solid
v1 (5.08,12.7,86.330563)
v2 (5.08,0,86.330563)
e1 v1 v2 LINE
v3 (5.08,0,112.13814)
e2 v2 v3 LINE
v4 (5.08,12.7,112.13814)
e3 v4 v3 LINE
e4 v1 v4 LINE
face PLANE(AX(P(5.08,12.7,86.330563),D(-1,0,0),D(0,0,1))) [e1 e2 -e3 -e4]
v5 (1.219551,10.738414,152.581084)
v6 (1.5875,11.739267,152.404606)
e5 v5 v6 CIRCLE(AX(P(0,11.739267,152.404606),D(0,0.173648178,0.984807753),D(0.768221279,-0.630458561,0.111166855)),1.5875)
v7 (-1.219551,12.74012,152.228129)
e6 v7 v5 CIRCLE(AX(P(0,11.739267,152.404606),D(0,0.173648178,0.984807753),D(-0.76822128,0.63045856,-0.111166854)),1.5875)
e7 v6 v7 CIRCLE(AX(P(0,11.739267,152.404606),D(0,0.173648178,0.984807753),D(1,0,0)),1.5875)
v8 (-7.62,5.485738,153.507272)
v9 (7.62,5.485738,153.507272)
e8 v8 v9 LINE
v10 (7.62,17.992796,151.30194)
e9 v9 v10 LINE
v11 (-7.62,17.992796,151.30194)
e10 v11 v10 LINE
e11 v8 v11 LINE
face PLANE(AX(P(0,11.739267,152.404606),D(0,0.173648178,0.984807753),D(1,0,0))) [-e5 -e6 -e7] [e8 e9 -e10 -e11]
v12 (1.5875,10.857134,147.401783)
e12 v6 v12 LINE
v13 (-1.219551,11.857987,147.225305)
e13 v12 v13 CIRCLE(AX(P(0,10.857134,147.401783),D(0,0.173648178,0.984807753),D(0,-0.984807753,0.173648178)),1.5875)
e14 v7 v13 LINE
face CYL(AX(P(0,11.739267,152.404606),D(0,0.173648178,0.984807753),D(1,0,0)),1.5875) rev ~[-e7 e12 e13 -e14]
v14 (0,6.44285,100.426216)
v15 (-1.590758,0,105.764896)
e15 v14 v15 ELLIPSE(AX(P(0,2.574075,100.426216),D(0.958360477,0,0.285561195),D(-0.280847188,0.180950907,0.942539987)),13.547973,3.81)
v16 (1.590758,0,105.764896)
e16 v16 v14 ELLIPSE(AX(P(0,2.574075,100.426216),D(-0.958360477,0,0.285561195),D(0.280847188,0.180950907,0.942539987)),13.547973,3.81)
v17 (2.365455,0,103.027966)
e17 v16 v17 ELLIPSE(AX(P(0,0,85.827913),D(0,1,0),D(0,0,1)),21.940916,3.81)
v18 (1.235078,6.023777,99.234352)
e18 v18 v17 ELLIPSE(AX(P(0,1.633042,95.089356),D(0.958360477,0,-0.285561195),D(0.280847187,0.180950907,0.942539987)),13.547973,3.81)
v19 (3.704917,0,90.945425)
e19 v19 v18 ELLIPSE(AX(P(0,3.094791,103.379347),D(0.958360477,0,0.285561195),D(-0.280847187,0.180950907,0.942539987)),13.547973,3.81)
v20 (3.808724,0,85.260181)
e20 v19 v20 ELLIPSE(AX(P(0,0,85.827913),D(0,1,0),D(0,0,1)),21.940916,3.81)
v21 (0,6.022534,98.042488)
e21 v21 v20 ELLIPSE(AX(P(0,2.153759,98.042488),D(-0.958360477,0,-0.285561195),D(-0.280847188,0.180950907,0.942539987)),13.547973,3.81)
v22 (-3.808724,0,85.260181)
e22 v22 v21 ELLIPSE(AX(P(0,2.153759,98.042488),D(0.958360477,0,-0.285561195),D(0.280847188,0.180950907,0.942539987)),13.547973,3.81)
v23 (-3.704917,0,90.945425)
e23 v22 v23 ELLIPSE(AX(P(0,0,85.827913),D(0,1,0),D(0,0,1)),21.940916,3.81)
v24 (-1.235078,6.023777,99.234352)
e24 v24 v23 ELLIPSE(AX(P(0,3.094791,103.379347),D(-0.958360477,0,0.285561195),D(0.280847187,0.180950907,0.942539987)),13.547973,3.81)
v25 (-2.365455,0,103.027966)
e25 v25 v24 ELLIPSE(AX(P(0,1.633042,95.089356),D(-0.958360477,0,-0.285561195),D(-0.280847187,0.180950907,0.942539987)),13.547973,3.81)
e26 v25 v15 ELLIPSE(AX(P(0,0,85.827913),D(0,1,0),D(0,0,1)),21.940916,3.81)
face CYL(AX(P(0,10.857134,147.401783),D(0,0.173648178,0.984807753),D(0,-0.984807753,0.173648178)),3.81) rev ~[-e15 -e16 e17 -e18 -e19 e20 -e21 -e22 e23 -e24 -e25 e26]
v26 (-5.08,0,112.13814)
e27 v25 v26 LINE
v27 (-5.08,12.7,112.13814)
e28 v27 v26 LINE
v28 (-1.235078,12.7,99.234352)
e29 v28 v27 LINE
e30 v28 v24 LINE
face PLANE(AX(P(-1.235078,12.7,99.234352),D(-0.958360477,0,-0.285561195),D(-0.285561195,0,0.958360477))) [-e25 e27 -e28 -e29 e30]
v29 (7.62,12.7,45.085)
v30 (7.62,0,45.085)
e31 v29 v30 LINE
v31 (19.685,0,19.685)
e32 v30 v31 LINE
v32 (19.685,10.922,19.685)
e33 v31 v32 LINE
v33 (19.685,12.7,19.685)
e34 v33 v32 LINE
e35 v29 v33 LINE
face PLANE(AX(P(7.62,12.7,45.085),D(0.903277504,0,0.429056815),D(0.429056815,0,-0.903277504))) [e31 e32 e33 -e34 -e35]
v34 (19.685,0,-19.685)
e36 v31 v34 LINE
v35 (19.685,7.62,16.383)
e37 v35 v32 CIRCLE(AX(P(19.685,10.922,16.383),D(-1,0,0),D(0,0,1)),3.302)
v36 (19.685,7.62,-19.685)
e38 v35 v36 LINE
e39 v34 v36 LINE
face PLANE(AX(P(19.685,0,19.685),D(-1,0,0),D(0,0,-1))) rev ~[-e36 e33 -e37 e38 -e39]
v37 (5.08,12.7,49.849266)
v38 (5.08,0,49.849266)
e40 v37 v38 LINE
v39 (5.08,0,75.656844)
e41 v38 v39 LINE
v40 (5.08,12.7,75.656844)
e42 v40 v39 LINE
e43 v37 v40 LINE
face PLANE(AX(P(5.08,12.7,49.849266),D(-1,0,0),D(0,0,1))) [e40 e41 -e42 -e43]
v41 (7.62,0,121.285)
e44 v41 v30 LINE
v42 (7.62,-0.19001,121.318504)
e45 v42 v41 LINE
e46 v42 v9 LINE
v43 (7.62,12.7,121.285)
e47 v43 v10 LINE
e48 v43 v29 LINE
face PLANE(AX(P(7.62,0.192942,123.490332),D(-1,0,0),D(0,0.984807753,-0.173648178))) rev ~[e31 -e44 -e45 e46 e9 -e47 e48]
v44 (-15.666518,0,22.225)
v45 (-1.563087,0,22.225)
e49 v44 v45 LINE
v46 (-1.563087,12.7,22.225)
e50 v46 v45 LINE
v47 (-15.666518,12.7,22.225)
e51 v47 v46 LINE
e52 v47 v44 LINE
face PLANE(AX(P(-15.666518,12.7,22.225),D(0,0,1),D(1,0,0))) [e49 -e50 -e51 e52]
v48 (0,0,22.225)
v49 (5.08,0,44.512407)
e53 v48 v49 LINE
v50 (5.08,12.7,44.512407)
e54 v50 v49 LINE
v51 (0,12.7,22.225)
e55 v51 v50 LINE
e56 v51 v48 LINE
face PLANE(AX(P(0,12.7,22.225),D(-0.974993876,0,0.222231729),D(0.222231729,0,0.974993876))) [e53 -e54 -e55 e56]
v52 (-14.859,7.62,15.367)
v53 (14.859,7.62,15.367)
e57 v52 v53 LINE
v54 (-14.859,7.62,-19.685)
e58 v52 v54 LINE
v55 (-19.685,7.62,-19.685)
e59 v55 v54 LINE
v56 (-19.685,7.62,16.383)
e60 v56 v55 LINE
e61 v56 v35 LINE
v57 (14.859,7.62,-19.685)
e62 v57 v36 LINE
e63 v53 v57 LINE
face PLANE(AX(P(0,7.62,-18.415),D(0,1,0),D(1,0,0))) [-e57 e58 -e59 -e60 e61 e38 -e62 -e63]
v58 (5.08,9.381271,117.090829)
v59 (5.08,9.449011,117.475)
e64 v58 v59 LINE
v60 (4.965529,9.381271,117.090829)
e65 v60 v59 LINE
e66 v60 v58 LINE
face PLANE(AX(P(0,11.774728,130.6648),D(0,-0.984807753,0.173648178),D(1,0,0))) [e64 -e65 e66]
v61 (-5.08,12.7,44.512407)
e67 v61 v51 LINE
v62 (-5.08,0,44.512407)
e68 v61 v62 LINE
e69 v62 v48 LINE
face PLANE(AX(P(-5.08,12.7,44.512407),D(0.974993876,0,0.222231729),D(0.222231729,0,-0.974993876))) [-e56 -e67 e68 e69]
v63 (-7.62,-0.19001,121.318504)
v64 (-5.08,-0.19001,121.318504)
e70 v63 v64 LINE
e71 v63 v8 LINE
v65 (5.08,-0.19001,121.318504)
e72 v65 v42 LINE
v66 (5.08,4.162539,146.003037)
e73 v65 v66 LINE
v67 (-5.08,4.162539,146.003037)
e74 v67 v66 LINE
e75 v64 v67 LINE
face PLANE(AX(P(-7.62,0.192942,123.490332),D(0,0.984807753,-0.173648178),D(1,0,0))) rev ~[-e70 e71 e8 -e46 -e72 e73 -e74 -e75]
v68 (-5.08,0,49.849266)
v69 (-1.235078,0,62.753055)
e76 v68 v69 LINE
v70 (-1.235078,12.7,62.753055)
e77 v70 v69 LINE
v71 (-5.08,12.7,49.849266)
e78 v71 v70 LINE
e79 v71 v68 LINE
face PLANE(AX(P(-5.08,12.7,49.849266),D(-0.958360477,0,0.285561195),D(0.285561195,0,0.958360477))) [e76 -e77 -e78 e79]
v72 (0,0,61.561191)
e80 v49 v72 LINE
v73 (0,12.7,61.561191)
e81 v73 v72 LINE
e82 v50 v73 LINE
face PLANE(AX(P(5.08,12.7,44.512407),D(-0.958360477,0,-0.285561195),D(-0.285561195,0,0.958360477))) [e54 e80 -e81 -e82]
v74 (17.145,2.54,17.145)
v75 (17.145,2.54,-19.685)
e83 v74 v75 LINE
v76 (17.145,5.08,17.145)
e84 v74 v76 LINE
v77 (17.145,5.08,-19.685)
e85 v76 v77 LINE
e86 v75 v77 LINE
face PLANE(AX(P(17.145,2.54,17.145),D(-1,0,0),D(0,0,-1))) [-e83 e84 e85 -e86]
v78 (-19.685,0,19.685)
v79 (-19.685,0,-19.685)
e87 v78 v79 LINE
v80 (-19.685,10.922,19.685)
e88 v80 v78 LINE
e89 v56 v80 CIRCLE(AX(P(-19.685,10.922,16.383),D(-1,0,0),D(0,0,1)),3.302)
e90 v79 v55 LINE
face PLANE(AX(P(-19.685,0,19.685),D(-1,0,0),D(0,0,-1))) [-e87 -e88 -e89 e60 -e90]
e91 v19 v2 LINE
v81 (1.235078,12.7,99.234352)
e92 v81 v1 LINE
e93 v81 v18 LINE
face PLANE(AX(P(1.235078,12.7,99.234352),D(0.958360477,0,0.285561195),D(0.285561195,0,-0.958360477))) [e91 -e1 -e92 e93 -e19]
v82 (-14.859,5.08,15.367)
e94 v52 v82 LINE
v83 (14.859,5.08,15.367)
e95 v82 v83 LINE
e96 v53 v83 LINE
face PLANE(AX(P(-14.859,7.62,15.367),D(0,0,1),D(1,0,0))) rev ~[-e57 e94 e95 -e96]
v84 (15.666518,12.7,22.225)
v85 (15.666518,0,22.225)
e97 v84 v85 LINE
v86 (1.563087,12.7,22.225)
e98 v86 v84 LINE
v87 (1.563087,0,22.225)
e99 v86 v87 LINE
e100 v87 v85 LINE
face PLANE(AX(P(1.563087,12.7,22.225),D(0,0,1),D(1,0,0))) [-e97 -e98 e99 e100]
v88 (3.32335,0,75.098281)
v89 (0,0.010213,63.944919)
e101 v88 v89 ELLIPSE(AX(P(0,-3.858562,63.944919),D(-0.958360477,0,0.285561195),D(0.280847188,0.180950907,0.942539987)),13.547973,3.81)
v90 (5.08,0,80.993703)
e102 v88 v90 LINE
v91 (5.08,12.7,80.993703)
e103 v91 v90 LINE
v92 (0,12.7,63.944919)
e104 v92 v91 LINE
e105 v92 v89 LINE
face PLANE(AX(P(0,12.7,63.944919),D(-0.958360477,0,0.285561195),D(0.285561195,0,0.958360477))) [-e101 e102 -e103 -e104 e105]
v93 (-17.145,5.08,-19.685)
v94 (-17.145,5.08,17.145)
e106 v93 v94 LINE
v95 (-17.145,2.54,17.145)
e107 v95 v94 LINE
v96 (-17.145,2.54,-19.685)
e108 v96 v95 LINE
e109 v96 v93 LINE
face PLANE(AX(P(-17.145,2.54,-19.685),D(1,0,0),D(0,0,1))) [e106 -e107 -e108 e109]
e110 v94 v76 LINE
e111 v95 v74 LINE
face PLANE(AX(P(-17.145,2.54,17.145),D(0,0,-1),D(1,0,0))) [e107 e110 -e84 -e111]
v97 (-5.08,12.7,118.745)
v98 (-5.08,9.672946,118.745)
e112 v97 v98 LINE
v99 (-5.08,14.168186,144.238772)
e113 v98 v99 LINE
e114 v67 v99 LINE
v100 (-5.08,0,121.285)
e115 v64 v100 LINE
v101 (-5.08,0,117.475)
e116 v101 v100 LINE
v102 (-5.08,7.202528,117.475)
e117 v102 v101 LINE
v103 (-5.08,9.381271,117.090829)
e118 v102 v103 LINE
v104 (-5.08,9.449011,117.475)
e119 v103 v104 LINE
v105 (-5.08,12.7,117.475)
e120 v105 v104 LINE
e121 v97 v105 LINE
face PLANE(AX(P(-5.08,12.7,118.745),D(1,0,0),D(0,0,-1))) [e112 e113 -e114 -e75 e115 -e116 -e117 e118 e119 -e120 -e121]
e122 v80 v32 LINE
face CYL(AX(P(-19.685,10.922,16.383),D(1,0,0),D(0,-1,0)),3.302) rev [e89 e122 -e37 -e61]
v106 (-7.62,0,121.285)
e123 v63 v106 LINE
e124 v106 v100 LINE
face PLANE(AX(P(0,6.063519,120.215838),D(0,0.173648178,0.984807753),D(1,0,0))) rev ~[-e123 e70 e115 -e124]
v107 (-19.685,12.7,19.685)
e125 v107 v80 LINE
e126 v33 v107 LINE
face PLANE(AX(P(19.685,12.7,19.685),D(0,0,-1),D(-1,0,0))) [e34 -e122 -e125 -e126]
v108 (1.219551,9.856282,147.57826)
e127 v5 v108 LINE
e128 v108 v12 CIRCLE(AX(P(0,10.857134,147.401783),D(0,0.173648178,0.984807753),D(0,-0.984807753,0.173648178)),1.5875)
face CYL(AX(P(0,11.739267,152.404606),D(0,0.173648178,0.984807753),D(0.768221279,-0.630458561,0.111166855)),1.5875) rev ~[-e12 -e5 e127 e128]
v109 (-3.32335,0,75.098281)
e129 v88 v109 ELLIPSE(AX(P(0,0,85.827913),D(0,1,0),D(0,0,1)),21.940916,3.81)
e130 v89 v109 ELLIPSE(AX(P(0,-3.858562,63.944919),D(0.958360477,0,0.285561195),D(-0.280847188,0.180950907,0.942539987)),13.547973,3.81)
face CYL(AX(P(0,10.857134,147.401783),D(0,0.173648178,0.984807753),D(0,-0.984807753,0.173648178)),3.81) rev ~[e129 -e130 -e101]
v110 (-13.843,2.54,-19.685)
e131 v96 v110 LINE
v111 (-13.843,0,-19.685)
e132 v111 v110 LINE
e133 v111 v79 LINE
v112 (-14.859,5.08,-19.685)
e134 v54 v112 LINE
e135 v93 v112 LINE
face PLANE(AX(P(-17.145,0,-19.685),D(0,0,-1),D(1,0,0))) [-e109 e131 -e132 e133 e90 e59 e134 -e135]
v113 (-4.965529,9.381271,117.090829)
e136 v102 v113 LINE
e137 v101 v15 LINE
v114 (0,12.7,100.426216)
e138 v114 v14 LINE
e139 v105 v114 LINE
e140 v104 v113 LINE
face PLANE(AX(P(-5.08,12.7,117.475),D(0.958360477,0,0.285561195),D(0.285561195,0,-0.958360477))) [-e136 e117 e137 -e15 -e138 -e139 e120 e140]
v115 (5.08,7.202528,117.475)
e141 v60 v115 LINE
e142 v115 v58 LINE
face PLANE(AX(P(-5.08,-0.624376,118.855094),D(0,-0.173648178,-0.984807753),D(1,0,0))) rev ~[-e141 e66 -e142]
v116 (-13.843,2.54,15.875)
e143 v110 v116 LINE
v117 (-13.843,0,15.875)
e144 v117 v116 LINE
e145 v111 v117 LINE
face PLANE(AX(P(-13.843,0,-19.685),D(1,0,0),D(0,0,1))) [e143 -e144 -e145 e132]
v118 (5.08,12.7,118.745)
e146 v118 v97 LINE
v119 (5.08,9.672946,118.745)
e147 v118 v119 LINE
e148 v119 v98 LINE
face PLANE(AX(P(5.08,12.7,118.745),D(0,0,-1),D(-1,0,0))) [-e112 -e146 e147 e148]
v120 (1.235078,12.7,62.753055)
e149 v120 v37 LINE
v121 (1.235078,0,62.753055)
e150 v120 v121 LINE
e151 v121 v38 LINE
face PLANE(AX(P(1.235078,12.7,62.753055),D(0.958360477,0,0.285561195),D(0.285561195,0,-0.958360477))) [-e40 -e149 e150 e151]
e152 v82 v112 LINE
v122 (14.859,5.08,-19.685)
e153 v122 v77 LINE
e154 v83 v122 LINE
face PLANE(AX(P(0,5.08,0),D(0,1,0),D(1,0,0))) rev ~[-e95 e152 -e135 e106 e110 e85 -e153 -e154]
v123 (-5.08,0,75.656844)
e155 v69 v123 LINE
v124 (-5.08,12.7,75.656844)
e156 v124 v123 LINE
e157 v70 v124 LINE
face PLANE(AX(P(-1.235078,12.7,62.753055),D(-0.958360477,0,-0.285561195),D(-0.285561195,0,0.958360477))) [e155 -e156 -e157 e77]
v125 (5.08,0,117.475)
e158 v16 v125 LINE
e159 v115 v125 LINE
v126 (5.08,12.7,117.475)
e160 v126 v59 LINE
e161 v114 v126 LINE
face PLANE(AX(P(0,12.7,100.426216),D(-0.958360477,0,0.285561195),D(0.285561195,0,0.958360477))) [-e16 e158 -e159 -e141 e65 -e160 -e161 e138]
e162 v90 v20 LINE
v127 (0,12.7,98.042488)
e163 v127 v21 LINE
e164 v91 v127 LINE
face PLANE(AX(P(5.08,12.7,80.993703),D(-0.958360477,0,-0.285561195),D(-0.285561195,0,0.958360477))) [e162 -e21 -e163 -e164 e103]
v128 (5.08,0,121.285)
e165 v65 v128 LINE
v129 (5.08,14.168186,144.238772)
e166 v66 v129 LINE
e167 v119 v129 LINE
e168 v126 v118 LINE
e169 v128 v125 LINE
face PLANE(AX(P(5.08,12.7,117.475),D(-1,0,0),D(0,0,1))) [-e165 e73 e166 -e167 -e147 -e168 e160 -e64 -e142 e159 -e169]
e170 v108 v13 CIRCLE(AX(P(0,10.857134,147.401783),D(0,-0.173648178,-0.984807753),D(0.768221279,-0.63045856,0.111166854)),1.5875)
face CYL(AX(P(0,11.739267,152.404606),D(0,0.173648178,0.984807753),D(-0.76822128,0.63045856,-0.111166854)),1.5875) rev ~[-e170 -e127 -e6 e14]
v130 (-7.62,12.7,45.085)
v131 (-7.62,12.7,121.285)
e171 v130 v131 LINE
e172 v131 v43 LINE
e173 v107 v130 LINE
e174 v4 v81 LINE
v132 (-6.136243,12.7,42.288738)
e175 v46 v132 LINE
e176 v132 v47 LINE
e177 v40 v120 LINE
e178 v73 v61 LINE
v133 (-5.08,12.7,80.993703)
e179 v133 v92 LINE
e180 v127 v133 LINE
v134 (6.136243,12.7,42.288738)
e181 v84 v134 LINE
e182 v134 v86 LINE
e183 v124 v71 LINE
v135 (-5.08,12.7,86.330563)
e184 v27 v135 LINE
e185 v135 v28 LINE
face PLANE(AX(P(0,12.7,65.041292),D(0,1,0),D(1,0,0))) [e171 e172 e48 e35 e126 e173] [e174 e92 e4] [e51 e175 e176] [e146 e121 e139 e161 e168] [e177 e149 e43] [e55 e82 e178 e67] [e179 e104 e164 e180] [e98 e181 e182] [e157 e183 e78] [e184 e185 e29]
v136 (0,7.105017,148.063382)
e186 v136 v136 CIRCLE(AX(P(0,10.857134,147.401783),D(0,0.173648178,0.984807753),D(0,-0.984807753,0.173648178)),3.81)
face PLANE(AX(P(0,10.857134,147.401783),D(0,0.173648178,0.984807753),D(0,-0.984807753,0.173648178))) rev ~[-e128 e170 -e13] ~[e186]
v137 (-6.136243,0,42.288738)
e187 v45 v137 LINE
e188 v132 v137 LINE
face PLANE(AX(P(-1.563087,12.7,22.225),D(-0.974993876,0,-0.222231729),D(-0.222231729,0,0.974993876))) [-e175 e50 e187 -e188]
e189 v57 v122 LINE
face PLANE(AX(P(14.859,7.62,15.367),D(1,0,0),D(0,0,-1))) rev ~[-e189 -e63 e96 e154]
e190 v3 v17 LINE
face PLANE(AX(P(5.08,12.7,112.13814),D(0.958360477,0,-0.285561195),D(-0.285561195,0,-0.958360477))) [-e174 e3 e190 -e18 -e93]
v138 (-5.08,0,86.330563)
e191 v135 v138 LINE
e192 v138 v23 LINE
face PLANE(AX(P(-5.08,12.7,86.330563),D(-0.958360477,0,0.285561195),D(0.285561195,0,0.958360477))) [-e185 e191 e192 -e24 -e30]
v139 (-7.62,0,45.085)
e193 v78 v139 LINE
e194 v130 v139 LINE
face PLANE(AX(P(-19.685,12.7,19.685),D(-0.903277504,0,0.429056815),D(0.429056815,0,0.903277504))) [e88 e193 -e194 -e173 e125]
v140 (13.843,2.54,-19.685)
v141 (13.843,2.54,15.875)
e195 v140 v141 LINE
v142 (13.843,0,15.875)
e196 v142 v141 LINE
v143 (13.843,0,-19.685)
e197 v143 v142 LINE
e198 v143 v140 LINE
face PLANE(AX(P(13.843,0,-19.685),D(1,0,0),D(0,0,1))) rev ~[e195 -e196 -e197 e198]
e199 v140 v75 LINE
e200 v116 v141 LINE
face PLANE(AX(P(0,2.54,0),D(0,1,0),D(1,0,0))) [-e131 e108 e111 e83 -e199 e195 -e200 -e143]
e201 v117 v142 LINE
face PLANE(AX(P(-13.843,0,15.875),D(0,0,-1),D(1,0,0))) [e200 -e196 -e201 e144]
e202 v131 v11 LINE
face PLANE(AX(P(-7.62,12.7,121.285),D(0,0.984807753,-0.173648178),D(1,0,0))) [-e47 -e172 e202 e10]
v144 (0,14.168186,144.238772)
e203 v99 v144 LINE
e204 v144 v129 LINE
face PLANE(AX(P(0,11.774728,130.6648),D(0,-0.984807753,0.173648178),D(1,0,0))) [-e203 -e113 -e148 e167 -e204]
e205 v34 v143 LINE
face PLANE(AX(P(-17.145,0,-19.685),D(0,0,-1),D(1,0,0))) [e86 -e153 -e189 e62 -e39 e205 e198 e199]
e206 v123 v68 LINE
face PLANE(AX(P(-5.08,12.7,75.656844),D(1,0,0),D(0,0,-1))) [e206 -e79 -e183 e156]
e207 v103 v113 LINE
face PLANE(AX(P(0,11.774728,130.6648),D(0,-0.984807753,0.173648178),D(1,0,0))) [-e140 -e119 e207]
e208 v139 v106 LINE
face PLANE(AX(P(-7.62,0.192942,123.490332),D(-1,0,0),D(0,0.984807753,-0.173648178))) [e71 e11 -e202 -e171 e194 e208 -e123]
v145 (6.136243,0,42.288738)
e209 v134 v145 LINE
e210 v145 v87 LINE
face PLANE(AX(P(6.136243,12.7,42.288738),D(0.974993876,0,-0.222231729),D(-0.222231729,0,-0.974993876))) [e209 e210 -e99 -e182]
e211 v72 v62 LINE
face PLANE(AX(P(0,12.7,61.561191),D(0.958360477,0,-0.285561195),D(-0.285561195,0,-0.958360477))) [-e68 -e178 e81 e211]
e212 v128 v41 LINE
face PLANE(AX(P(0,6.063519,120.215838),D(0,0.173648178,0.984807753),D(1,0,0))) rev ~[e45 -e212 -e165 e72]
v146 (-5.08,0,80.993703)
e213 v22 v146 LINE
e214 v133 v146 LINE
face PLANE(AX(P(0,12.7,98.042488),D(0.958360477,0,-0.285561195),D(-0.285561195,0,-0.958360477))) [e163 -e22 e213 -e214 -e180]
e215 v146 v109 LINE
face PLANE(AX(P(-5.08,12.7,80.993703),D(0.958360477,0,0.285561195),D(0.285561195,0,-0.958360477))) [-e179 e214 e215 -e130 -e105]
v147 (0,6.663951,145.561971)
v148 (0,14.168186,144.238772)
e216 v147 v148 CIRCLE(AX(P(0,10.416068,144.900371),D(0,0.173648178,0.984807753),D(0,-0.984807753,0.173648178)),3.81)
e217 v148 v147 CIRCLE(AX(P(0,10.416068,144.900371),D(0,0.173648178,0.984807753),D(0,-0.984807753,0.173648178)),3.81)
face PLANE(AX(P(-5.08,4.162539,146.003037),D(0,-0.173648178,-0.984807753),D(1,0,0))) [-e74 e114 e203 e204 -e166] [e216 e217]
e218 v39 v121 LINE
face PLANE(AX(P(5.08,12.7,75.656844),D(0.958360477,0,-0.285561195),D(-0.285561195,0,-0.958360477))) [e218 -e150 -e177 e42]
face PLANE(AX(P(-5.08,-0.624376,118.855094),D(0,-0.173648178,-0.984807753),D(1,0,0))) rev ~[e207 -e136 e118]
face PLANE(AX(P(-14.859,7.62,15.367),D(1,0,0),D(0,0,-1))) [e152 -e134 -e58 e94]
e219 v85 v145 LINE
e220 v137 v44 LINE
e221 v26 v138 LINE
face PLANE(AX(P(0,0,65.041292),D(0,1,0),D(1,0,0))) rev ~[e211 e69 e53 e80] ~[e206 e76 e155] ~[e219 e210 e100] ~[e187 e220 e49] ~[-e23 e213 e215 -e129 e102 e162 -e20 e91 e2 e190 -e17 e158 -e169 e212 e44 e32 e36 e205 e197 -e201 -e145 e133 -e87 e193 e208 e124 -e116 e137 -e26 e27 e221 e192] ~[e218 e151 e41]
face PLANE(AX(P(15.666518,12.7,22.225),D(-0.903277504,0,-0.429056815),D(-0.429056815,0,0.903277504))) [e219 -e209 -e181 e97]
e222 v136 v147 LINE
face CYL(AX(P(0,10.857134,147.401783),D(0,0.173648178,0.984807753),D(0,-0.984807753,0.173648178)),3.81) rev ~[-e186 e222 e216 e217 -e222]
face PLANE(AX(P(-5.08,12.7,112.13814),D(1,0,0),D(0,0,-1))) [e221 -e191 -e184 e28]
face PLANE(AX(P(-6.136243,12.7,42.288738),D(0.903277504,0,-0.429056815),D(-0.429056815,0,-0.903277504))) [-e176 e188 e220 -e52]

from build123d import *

# Parameters (mm, degrees)
SKETCH1_W           = 39.37
SKETCH1_H           = 39.37
SKETCH1_W_2         = 34.29
SKETCH1_H_2         = 34.29
SKETCH1_H_3         = 2.54
BOSS_EXTRUDE1_DEPTH = 7.62
CUT_EXTRUDE1_START  = 2.54
SKETCH1_4_W         = 34.29
SKETCH1_4_H         = 34.29
SKETCH1_4_H_2       = 2.54
CUT_EXTRUDE1_DEPTH  = 2.54
SKETCH4_W           = 29.718
SKETCH4_H           = 35.052
CUT_EXTRUDE2_DEPTH  = 2.54
SKETCH5_W           = 27.686
SKETCH5_H           = 35.56
CUT_EXTRUDE3_DEPTH  = 2.54
BOSS_EXTRUDE2_START = 5.08
BOSS_EXTRUDE2_DEPTH = 12.7
SKETCH7_W           = 15.24
SKETCH7_H           = 12.7
BOSS_EXTRUDE3_DEPTH = 2.205332
SKETCH7_2_W         = 15.24
SKETCH7_2_H         = 12.7
BOSS_EXTRUDE4_DEPTH = 30.48
CUT_EXTRUDE5_DEPTH  = 173.702638821
CUT_EXTRUDE6_START  = -5.08
SKETCH8_3_R         = 3.81
SKETCH8_3_R_2       = 1.5875
CUT_EXTRUDE6_DEPTH  = 168.622638821
SKETCH9_W           = 10.16
SKETCH9_H           = 27.566743549
CUT_EXTRUDE7_DEPTH  = 10.16
FILLET2_R           = 3.302


with BuildPart() as part:
    # Sketch1 → Boss-Extrude1 (new body)
    # profile 1 of 3: a face of its own
    with BuildSketch(Plane(origin=(0, 0, 0), x_dir=(1, 0, 0), z_dir=(0, 1, 0))):
        Rectangle(SKETCH1_W, SKETCH1_H)
        Rectangle(SKETCH1_W_2, SKETCH1_H_2, mode=Mode.SUBTRACT)
    # profile 2 of 3: a face of its own
    with BuildSketch(Plane(origin=(0, 0, 0), x_dir=(1, 0, 0), z_dir=(0, 1, 0))):
        Rectangle(SKETCH1_W_2, SKETCH1_H_2)
    # profile 3 of 3: a face of its own
    with BuildSketch(Plane(origin=(0, 0, 0), x_dir=(1, 0, 0), z_dir=(0, 1, 0))):
        with Locations((0, 18.415)):
            Rectangle(SKETCH1_W_2, SKETCH1_H_3)
    extrude(amount=BOSS_EXTRUDE1_DEPTH)

    # Sketch1<4> → Cut-Extrude1 (cut)
    with BuildSketch(Plane(origin=(0, 0, 0), x_dir=(1, 0, 0), z_dir=(0, 1, 0)).offset(CUT_EXTRUDE1_START)):
        Rectangle(SKETCH1_4_W, SKETCH1_4_H)
        with Locations((0, 18.415)):
            Rectangle(SKETCH1_4_W, SKETCH1_4_H_2)
    extrude(amount=CUT_EXTRUDE1_DEPTH, mode=Mode.SUBTRACT)

    # Sketch4 → Cut-Extrude2 (cut)
    with BuildSketch(Plane(origin=(0, 7.62, 0), x_dir=(1, 0, 0), z_dir=(0, 1, 0))):
        with Locations((0, 2.159)):
            Rectangle(SKETCH4_W, SKETCH4_H)
    extrude(amount=-CUT_EXTRUDE2_DEPTH, mode=Mode.SUBTRACT)

    # Sketch5 → Cut-Extrude3 (cut)
    with BuildSketch(Plane.XZ):
        with Locations((0, -1.905)):
            Rectangle(SKETCH5_W, SKETCH5_H)
    extrude(amount=-CUT_EXTRUDE3_DEPTH, mode=Mode.SUBTRACT)

    # Sketch6 → Boss-Extrude2 (add)
    with BuildSketch(Plane(origin=(0, 7.62, 0), x_dir=(1, 0, 0), z_dir=(0, 1, 0)).offset(BOSS_EXTRUDE2_START)):
        Polygon((19.685, -19.685), (0, -19.685), (-19.685, -19.685), (-7.62, -45.085), (-7.62, -121.285), (7.62, -121.285), (7.62, -45.085), align=None)
        Polygon((-5.08, -86.330562843), (-1.235077939, -99.234351627), (-5.08, -112.138140412), align=None, mode=Mode.SUBTRACT)
        Polygon((-5.08, -117.475), (0, -100.426215662), (5.08, -117.475), (5.08, -118.745), (-5.08, -118.745), align=None, mode=Mode.SUBTRACT)
        Polygon((1.235077939, -99.234351627), (5.08, -86.330562843), (5.08, -112.138140412), align=None, mode=Mode.SUBTRACT)
        Polygon((0, -98.042487593), (-5.08, -80.993703255), (0, -63.944918917), (5.08, -80.993703255), align=None, mode=Mode.SUBTRACT)
        Polygon((-5.08, -49.849266098), (-1.235077939, -62.753054882), (-5.08, -75.656843666), align=None, mode=Mode.SUBTRACT)
        Polygon((-15.666518092, -22.225), (-1.563086741, -22.225), (-6.136242744, -42.288737575), align=None, mode=Mode.SUBTRACT)
        Polygon((1.235077939, -62.753054882), (5.08, -49.849266098), (5.08, -75.656843666), align=None, mode=Mode.SUBTRACT)
        Polygon((-5.08, -44.51240651), (0, -22.225), (5.08, -44.51240651), (0, -61.561190848), align=None, mode=Mode.SUBTRACT)
        Polygon((6.136242744, -42.288737575), (1.563086741, -22.225), (15.666518092, -22.225), align=None, mode=Mode.SUBTRACT)
    extrude(amount=-BOSS_EXTRUDE2_DEPTH)

    # Sketch7 → Boss-Extrude3 (add)
    with BuildSketch(Plane(origin=(0, 21.1239084, 119.799637666), x_dir=(1, 0, 0), z_dir=(0, 0.17364817766691723, 0.9848077530122104))):
        with Locations((0, -14.903860765)):
            Rectangle(SKETCH7_W, SKETCH7_H)
    extrude(amount=-BOSS_EXTRUDE3_DEPTH)

    # Sketch7<2> → Boss-Extrude4 (add)
    with BuildSketch(Plane(origin=(0, 21.1239084, 119.799637666), x_dir=(1, 0, 0), z_dir=(0, 0.17364817766691723, 0.9848077530122104))):
        with Locations((0, -14.903860765)):
            Rectangle(SKETCH7_2_W, SKETCH7_2_H)
    extrude(amount=BOSS_EXTRUDE4_DEPTH)

    # Sketch8 → Cut-Extrude5 (cut, through all)
    with BuildSketch(Plane(origin=(0, 26.416704855, 149.816577978), x_dir=(1, 0, 0), z_dir=(0, 0.1736481776669177, 0.9848077530122102))):
        with BuildLine():
            ThreePointArc((1.5875, -14.903860765), (0.540425106, -13.411179636), (-1.219551281, -13.887568031))
            Line((-1.219551281, -13.887568031), (1.219551281, -15.9201535))
            ThreePointArc((1.219551281, -15.9201535), (1.49268113, -15.444285871), (1.5875, -14.903860765))
        make_face()
        with BuildLine():
            Line((1.219551281, -15.9201535), (-1.219551281, -13.887568031))
            ThreePointArc((-1.219551281, -13.887568031), (-1.016292734, -16.123412046), (1.219551281, -15.9201535))
        make_face()
    extrude(amount=-CUT_EXTRUDE5_DEPTH, mode=Mode.SUBTRACT)

    # Sketch8<3> → Cut-Extrude6 (cut, through all)
    with BuildSketch(Plane(origin=(0, 26.416704855, 149.816577978), x_dir=(1, 0, 0), z_dir=(0, 0.1736481776669177, 0.9848077530122102)).offset(CUT_EXTRUDE6_START)):
        with Locations(Location((0, -14.903860765, 0), (0, 0, 270))):
            Circle(SKETCH8_3_R)
        with Locations(Location((0, -14.903860765, 0), (0, 0, 270))):
            Circle(SKETCH8_3_R_2, mode=Mode.SUBTRACT)
    extrude(amount=-CUT_EXTRUDE6_DEPTH, mode=Mode.SUBTRACT)

    # Sketch9 → Cut-Extrude7 (cut)
    with BuildSketch(Plane(origin=(0, -20.930966863, 3.69069419), x_dir=(1, 0, 0), z_dir=(0, -0.9848077530122105, 0.1736481776669173))):
        with Locations((0, 130.724368406)):
            Rectangle(SKETCH9_W, SKETCH9_H)
    extrude(amount=-CUT_EXTRUDE7_DEPTH, mode=Mode.SUBTRACT)

    # Fillet2
    fillet2_edges = [part.edges().sort_by_distance(p)[0] for p in [
        (0, 7.62, 19.685),
    ]]
    fillet(fillet2_edges, radius=FILLET2_R)


solid = part.part
